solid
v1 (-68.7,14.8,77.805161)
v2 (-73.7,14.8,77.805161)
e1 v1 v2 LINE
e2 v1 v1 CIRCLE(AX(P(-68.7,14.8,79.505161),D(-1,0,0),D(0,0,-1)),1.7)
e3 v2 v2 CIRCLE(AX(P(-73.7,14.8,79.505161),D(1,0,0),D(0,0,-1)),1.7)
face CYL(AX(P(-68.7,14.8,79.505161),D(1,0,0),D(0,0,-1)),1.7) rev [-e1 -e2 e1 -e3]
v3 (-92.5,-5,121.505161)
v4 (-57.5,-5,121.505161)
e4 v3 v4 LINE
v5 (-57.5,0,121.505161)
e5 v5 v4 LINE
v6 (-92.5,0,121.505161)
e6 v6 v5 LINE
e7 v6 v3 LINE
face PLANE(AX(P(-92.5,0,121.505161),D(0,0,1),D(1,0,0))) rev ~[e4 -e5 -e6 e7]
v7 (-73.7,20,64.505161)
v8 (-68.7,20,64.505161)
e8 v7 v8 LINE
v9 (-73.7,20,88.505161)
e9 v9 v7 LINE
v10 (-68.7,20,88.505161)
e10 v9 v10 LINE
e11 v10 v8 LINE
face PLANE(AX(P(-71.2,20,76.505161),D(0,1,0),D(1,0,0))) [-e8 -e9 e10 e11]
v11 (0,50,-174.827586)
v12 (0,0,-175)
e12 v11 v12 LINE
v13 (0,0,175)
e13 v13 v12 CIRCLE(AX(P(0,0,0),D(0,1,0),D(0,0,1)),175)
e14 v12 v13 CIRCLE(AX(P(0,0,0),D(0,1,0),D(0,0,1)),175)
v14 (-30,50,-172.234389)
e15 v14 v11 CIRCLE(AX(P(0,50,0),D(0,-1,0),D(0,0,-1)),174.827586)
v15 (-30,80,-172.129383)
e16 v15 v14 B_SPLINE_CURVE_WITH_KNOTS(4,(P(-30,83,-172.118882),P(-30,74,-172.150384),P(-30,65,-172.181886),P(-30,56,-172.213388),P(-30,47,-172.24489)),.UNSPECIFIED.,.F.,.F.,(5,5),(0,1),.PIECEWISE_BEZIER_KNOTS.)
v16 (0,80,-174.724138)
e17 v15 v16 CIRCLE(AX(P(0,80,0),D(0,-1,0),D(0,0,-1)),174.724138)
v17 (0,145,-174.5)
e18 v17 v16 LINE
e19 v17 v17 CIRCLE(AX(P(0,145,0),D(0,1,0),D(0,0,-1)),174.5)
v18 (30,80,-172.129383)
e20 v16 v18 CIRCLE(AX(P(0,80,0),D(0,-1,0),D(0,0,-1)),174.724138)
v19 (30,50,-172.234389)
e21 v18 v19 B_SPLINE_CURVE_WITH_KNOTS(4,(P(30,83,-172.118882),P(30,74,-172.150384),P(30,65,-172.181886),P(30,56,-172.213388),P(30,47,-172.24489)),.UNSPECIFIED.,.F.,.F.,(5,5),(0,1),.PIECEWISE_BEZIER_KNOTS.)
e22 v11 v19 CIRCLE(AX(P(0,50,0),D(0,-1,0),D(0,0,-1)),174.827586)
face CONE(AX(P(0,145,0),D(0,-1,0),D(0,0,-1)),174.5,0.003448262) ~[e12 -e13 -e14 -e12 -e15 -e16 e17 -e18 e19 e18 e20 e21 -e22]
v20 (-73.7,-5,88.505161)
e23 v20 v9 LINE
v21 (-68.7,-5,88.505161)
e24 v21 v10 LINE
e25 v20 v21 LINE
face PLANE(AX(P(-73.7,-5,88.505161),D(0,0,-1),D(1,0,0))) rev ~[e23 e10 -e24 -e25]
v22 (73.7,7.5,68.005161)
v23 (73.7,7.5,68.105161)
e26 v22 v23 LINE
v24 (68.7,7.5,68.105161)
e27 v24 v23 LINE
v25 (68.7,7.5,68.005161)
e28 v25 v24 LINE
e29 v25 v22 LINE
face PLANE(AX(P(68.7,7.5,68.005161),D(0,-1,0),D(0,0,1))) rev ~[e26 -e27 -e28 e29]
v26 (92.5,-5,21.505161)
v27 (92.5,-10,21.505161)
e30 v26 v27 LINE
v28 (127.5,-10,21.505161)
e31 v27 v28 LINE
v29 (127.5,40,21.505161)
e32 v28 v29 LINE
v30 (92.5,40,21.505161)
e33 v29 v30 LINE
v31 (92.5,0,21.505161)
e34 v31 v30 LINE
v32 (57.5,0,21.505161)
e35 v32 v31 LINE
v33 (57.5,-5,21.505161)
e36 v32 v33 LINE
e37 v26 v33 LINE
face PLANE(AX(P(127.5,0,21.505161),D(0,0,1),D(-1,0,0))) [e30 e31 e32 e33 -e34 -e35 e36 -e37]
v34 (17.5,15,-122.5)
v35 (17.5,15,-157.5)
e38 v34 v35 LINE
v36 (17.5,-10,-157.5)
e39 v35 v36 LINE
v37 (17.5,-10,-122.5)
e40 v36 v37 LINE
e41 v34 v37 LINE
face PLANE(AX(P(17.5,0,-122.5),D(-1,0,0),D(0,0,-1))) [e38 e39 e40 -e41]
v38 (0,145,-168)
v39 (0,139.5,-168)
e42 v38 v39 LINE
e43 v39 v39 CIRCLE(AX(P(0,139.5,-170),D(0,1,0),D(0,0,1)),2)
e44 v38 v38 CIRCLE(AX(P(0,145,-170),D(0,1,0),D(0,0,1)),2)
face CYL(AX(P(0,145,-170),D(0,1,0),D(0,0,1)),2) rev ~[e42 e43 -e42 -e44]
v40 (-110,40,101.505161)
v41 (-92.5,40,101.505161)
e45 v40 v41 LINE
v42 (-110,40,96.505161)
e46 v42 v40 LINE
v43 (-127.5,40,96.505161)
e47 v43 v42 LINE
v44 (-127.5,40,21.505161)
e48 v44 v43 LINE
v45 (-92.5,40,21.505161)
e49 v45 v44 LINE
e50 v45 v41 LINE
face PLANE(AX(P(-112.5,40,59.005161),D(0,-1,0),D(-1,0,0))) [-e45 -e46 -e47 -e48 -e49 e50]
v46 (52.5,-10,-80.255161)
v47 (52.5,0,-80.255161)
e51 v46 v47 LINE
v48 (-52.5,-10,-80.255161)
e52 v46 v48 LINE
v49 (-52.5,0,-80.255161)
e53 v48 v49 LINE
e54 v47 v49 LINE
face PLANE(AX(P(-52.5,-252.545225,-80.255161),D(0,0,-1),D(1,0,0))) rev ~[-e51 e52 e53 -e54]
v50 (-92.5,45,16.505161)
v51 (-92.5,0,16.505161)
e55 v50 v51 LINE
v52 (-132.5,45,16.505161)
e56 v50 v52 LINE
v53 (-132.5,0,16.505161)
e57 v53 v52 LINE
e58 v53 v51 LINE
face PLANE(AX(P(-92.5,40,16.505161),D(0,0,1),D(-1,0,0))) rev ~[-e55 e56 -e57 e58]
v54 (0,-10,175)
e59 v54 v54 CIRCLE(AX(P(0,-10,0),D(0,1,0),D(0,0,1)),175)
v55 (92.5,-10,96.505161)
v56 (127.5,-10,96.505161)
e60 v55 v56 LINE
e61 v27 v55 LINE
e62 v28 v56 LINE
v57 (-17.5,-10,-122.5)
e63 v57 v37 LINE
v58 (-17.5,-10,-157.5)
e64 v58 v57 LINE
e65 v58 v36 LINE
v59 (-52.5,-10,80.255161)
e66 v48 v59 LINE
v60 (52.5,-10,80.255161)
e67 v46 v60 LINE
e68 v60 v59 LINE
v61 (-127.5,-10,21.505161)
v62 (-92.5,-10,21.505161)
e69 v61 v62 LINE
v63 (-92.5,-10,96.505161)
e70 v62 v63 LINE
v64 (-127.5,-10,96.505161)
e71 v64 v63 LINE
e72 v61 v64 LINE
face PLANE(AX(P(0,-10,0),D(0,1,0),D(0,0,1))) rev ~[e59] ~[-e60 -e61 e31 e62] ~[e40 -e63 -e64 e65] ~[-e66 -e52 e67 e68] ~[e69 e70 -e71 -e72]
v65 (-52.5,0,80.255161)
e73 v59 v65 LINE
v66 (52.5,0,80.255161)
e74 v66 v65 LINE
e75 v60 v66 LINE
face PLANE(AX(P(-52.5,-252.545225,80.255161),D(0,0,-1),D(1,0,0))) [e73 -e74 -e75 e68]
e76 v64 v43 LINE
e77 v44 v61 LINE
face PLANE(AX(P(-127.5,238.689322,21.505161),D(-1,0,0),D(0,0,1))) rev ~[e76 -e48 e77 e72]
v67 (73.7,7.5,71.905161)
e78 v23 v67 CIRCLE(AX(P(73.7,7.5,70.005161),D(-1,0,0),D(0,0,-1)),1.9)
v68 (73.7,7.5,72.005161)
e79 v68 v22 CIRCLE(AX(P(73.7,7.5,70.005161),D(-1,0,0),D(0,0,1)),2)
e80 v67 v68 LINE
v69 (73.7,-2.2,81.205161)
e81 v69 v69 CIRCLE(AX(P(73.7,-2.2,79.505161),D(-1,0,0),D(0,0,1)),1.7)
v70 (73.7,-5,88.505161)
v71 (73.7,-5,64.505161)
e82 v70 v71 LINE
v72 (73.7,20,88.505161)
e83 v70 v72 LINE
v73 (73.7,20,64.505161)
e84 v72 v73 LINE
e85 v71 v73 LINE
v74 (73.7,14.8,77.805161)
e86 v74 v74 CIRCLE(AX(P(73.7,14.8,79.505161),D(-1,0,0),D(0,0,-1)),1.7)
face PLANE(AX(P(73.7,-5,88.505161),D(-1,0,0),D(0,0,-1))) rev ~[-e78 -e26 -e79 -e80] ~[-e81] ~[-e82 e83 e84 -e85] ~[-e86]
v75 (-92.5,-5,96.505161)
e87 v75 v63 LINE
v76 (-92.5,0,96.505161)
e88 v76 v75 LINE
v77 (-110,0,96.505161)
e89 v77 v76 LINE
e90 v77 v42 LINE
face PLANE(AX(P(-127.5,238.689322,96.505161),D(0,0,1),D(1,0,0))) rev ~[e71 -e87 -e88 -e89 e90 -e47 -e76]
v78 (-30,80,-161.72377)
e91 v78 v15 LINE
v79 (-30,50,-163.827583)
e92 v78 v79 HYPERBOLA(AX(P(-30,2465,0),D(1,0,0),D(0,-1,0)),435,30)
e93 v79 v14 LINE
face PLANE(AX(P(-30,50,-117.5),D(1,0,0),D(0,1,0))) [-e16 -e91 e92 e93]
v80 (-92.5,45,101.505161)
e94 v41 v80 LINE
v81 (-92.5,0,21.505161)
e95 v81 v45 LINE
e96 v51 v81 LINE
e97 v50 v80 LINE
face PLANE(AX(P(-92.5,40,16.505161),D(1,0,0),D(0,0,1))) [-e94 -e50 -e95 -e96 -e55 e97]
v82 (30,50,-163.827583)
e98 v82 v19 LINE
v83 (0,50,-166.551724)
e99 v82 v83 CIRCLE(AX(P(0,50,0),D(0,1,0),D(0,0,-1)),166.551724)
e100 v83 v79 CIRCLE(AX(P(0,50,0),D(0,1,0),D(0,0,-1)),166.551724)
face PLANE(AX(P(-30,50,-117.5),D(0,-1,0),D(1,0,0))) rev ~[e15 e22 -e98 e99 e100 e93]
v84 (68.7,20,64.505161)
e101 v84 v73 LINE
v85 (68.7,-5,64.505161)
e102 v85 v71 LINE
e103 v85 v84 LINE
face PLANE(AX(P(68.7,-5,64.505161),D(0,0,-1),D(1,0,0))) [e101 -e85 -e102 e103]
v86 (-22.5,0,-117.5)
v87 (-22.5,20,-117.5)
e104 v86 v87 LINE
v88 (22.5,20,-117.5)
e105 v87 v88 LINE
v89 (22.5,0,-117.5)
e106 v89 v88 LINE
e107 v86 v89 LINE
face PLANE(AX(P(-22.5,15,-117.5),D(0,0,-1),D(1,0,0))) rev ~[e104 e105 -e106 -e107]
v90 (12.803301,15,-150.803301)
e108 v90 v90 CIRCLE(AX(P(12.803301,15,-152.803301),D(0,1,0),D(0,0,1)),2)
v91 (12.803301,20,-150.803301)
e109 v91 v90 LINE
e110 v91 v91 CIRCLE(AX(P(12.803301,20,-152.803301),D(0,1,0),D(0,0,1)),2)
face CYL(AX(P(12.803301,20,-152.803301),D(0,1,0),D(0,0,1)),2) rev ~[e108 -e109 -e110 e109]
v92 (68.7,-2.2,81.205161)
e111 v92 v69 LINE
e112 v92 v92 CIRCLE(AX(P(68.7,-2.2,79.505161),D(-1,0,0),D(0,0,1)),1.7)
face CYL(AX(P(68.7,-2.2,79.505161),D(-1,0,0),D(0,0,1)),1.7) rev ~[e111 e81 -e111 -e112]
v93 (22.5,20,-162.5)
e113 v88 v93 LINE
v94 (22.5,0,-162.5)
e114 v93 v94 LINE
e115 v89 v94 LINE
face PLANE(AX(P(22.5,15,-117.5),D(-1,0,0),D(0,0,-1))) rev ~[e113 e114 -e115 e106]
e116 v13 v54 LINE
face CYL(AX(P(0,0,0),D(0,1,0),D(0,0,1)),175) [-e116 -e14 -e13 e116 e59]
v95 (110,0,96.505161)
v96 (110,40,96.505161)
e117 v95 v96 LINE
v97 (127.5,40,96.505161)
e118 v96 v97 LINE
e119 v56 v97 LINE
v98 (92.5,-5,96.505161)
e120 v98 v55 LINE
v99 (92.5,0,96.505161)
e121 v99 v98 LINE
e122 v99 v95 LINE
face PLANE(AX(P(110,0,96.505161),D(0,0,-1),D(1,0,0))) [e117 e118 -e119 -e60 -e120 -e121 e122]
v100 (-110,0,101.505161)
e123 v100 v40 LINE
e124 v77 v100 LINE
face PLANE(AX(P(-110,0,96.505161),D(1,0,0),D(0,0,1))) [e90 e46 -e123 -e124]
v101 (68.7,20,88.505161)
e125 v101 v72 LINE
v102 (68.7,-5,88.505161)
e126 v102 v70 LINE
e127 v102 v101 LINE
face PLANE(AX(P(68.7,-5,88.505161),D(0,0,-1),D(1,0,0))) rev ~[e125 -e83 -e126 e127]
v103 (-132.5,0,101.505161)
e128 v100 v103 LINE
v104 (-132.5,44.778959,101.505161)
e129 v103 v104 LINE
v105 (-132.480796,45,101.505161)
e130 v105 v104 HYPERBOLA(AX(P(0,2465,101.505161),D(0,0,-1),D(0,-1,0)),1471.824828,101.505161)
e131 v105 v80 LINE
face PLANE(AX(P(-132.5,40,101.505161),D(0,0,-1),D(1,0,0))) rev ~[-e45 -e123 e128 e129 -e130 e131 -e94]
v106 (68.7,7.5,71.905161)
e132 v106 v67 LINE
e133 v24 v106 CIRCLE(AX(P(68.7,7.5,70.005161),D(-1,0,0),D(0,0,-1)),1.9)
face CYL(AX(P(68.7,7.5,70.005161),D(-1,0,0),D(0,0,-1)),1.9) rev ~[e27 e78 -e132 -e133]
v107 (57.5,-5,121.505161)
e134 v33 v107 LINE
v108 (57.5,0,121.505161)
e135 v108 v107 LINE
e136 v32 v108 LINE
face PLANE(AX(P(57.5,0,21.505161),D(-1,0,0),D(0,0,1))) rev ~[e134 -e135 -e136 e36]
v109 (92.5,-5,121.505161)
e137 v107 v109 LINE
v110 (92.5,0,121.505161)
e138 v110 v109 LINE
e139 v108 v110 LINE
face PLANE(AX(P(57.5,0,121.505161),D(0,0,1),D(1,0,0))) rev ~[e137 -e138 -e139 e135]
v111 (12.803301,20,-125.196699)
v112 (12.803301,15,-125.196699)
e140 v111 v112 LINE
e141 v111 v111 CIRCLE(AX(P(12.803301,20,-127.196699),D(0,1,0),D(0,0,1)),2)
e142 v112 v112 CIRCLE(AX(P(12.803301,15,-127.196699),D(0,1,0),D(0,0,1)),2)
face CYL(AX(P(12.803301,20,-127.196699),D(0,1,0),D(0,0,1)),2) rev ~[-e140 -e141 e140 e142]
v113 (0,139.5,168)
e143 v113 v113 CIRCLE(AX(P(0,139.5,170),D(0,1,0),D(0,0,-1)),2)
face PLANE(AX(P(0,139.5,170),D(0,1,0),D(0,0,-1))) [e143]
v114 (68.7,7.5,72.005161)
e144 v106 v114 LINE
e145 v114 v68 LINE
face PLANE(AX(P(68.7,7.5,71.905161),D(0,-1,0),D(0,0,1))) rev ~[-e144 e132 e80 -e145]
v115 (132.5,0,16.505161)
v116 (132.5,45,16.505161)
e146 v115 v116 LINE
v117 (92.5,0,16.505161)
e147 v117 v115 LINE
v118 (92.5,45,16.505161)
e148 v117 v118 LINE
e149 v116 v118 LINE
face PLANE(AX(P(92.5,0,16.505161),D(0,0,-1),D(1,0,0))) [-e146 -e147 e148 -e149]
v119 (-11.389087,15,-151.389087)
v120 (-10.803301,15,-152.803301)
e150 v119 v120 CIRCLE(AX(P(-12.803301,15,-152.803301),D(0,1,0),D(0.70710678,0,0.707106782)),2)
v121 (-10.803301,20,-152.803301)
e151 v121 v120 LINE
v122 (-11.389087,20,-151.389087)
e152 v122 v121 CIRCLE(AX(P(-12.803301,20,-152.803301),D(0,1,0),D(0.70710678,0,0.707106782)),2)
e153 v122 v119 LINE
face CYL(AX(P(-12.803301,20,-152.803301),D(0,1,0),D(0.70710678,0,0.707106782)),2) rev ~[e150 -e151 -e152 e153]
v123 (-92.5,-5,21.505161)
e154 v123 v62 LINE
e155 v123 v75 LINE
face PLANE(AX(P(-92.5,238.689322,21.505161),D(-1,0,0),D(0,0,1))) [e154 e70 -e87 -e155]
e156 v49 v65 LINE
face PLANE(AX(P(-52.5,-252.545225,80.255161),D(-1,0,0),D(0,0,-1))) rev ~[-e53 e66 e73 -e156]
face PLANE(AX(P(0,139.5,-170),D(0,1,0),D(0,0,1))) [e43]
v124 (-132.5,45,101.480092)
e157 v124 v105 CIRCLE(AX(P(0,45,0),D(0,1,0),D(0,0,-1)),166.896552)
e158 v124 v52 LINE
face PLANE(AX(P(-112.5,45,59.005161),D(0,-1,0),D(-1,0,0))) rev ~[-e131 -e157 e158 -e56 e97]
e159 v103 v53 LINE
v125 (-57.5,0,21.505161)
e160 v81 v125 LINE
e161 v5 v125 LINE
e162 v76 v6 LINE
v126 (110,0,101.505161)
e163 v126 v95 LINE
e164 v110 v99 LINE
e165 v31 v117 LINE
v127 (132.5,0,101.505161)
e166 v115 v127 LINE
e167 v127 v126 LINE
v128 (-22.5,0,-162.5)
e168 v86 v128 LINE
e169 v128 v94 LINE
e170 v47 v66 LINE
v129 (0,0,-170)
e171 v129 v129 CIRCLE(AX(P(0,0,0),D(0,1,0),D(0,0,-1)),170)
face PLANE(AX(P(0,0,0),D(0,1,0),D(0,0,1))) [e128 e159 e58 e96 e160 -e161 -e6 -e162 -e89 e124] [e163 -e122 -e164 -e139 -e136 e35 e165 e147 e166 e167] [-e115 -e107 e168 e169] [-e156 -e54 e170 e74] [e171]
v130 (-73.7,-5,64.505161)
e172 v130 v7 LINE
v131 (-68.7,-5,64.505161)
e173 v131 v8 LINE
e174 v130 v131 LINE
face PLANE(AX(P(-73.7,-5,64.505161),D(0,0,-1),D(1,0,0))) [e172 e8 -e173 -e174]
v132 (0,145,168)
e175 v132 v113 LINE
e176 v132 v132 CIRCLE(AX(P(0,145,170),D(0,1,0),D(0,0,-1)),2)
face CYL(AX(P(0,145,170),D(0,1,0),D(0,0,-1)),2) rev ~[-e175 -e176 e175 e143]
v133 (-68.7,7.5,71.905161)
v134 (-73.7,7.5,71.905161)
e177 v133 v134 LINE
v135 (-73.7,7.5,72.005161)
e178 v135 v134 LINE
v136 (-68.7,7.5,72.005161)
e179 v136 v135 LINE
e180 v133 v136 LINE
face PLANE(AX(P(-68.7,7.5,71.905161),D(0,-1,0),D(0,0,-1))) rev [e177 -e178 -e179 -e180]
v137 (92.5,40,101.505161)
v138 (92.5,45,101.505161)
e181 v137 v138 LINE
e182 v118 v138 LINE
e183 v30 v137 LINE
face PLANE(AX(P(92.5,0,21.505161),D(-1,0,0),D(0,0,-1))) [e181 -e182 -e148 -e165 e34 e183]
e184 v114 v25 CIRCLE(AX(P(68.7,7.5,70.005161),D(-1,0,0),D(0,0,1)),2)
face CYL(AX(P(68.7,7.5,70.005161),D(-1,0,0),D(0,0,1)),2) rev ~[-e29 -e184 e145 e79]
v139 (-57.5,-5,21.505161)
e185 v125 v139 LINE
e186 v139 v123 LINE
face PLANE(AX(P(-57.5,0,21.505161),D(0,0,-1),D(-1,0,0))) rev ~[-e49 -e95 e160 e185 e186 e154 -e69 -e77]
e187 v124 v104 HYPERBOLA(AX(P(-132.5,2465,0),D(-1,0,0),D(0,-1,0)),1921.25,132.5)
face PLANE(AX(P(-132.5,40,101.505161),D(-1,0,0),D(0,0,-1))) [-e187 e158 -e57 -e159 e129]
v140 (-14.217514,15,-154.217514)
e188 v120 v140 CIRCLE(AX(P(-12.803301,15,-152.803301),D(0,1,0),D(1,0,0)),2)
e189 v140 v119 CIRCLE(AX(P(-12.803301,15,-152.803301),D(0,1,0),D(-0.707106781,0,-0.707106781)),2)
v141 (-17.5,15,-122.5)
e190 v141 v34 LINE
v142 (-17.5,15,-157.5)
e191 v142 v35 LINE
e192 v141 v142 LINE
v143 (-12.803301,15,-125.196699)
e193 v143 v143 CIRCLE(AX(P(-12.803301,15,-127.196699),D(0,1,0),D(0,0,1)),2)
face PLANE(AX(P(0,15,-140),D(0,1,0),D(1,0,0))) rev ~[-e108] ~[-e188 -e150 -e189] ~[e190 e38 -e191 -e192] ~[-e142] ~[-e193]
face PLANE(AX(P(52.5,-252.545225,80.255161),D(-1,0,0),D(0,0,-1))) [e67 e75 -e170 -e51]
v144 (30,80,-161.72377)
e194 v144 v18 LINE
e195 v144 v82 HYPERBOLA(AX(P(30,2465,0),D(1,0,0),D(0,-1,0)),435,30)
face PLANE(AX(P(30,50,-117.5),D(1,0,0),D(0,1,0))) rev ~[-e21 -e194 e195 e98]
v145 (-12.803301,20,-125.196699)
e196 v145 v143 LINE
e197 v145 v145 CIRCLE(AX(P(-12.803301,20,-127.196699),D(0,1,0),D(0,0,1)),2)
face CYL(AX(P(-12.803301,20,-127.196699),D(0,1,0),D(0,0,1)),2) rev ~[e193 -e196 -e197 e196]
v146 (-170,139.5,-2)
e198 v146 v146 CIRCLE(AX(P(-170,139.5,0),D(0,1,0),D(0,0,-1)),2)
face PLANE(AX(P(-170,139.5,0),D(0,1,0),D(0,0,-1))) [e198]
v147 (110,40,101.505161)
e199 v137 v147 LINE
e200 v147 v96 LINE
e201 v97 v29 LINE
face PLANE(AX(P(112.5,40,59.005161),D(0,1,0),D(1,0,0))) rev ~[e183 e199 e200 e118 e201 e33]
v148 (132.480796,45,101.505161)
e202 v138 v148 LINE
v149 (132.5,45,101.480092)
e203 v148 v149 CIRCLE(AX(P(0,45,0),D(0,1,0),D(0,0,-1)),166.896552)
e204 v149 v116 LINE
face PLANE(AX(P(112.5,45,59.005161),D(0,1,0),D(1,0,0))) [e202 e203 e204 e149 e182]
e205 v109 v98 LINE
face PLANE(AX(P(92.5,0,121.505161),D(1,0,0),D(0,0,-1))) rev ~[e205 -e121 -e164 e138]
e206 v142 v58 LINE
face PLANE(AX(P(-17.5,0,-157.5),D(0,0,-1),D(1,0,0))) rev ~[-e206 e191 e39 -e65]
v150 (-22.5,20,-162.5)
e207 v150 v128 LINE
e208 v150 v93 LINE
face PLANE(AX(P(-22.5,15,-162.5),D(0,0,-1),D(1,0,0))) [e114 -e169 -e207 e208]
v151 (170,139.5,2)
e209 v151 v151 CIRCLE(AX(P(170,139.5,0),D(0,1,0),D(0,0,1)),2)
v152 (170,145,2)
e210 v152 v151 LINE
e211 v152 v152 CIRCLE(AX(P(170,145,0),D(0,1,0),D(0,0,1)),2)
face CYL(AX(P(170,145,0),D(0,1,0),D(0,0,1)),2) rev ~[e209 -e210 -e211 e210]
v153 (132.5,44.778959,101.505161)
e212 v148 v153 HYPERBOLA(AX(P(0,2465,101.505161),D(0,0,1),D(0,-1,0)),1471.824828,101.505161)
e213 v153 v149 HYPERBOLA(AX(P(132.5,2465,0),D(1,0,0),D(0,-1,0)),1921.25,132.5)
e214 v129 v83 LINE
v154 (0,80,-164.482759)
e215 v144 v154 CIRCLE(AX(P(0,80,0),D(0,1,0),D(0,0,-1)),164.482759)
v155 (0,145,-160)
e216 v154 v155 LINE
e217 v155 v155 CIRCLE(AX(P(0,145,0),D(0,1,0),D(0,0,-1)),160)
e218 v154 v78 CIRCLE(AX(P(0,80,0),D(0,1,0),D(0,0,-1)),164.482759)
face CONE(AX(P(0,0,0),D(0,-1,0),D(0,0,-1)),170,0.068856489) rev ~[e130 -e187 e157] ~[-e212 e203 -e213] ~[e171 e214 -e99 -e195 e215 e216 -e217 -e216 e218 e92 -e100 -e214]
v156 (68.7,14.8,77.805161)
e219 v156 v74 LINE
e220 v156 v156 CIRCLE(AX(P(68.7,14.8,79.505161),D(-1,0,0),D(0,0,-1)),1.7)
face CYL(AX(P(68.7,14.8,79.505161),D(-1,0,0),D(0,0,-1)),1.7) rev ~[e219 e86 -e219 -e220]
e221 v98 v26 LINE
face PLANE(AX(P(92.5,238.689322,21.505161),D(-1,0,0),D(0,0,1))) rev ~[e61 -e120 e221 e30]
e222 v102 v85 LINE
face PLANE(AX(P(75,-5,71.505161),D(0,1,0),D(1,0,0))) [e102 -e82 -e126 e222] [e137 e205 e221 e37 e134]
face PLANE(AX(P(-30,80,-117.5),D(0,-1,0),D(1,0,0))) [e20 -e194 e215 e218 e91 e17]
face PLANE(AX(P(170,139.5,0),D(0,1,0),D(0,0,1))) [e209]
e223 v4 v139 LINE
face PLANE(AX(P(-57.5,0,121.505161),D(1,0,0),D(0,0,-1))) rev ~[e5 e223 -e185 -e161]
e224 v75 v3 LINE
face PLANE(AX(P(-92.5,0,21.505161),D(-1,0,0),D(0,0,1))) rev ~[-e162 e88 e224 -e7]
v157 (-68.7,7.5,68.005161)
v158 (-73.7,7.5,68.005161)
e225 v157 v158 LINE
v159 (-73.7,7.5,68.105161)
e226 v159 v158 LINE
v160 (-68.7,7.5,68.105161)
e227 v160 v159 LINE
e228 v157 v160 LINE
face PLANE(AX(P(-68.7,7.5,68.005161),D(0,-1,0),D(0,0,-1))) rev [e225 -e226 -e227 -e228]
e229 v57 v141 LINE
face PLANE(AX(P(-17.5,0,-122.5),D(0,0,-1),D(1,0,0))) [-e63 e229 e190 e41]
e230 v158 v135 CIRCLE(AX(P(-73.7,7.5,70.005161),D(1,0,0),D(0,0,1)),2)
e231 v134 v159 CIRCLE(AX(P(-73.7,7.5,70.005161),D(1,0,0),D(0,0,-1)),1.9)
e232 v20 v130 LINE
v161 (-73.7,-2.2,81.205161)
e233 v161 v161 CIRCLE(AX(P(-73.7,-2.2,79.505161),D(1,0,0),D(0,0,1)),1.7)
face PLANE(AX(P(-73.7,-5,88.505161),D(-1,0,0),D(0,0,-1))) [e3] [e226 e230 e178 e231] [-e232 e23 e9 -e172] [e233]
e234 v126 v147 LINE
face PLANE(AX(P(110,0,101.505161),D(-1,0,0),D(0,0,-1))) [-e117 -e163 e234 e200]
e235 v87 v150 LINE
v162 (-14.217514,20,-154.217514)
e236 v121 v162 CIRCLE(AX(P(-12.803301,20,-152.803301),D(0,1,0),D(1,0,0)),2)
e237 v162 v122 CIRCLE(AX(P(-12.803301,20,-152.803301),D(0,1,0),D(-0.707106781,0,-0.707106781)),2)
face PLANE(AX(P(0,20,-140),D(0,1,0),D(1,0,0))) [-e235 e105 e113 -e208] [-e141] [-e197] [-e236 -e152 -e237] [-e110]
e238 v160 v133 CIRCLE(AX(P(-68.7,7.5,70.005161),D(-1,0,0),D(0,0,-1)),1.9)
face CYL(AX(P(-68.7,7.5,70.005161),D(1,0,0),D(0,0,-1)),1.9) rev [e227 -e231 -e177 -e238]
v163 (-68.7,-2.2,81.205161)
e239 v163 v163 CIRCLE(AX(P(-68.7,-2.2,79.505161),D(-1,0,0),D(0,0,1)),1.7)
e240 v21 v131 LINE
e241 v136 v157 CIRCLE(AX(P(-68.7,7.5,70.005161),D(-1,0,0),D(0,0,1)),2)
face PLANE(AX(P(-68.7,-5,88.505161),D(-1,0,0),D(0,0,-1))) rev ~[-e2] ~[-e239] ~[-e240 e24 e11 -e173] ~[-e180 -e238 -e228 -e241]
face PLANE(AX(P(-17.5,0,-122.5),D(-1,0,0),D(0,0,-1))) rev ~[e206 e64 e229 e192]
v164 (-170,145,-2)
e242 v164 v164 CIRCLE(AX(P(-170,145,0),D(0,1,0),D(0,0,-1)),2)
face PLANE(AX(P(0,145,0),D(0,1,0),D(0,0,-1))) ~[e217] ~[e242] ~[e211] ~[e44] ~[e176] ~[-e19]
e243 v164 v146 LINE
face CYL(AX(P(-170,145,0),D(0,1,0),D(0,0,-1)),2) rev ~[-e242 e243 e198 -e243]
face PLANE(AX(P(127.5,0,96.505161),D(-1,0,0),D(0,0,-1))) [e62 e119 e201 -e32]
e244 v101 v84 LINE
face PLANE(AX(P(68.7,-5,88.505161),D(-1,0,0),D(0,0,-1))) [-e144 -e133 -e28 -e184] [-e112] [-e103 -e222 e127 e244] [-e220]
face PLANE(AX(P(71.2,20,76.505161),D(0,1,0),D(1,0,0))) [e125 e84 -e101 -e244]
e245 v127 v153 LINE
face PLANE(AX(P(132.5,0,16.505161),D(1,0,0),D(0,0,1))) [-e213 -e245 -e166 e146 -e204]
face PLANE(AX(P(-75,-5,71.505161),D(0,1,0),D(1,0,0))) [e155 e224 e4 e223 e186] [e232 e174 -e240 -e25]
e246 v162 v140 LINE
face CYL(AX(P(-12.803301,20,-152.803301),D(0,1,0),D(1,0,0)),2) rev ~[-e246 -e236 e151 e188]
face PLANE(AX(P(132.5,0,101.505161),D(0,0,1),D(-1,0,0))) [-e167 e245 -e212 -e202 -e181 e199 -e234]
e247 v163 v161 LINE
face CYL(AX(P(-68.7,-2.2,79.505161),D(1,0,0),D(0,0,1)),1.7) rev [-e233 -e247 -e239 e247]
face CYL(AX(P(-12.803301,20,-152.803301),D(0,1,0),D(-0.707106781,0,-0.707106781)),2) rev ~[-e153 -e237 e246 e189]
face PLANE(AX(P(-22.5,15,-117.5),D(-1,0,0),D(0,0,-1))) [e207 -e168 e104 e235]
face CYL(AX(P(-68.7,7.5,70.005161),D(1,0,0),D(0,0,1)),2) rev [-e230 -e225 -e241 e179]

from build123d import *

# Parameters (mm, degrees)
SKETCH1_R                = 175
BOSS_EXTRUDE1_DEPTH      = 10
CUT_EXTRUDE1_DEPTH       = 248.68932153
CUT_EXTRUDE1_DEPTH_BACK  = 248.68932153
SKETCH3_W                = 35
SKETCH3_H                = 75
SKETCH3_H_2              = 35
SKETCH4_W                = 35
SKETCH4_H                = 75
CUT_EXTRUDE2_DEPTH       = 5
SKETCH5_W                = 45
SKETCH5_H                = 45
SKETCH5_W_2              = 35
SKETCH5_H_2              = 35
BOSS_EXTRUDE3_DEPTH      = 15
BOSS_EXTRUDE4_DEPTH      = 40
BOSS_EXTRUDE6_DEPTH      = 5
SKETCH9_W                = 45
SKETCH9_H                = 45
BOSS_EXTRUDE7_DEPTH      = 5
CUT_EXTRUDE14_DEPTH      = 252.545224562
CUT_EXTRUDE14_DEPTH_BACK = 252.545224562
SKETCH36_W               = 105
SKETCH36_H               = 160.510321068
SKETCH45_W               = 5
SKETCH45_H               = 24
BOSS_EXTRUDE14_DEPTH     = 25
SKETCH46_R               = 1.7
CUT_EXTRUDE18_DEPTH      = 25
SKETCH49_R               = 2
CUT_EXTRUDE20_DEPTH      = 250.299017246
SKETCH57_R               = 2
CUT_EXTRUDE24_DEPTH      = 5.5
SKETCH58_W               = 60
SKETCH58_H               = 30
CUT_EXTRUDE25_DEPTH      = 371.41362016


with BuildPart() as part:
    # Sketch1 → Boss-Extrude1 (new body)
    with BuildSketch(Plane(origin=(0, 0, 0), x_dir=(1, 0, 0), z_dir=(0, 1, 0))):
        with Locations(Location((0, 0, 0), (0, 0, 270))):
            Circle(SKETCH1_R)
    extrude(amount=-BOSS_EXTRUDE1_DEPTH)

    # Sketch3 → Cut-Extrude1 (cut, two sides: drawn at the far end of the back side and taken through both)
    with BuildSketch(Plane.XZ.offset(10).offset(-CUT_EXTRUDE1_DEPTH_BACK)):
        with Locations((-110, 59.005160534)):
            Rectangle(SKETCH3_W, SKETCH3_H)
        with Locations((110, 59.005160534)):
            Rectangle(SKETCH3_W, SKETCH3_H)
        with Locations((0, -140)):
            Rectangle(SKETCH3_W, SKETCH3_H_2)
    extrude(amount=CUT_EXTRUDE1_DEPTH + CUT_EXTRUDE1_DEPTH_BACK, mode=Mode.SUBTRACT)

    # Sketch4 → Cut-Extrude2 (cut)
    with BuildSketch(Plane(origin=(0, 0, 0), x_dir=(1, 0, 0), z_dir=(0, 1, 0))):
        Polygon((57.5, -21.505160534), (57.5, -96.505160534), (57.5, -121.505160534), (92.5, -121.505160534), (92.5, -96.505160534), (92.5, -21.505160534), align=None)
        with Locations((110, -59.005160534)):
            Rectangle(SKETCH4_W, SKETCH4_H)
        Polygon((-57.5, -21.505160534), (-92.5, -21.505160534), (-92.5, -96.505160534), (-92.5, -121.505160534), (-57.5, -121.505160534), (-57.5, -96.505160534), align=None)
    extrude(amount=-CUT_EXTRUDE2_DEPTH, mode=Mode.SUBTRACT)

    # Sketch5 → Boss-Extrude3 (add)
    with BuildSketch(Plane(origin=(0, 0, 0), x_dir=(1, 0, 0), z_dir=(0, 1, 0))):
        with Locations((0, 140)):
            Rectangle(SKETCH5_W, SKETCH5_H)
        with Locations((0, 140)):
            Rectangle(SKETCH5_W_2, SKETCH5_H_2, mode=Mode.SUBTRACT)
    extrude(amount=BOSS_EXTRUDE3_DEPTH)

    # Sketch6 → Boss-Extrude4 (add)
    with BuildSketch(Plane(origin=(0, 0, 0), x_dir=(1, 0, 0), z_dir=(0, 1, 0))):
        Polygon((127.5, -21.505160534), (92.5, -21.505160534), (92.5, -16.505160534), (132.5, -16.505160534), (132.5, -101.505160534), (110, -101.505160534), (110, -96.505160534), (127.5, -96.505160534), align=None)
        Polygon((-127.5, -21.505160534), (-127.5, -96.505160534), (-110, -96.505160534), (-110, -101.505160534), (-132.5, -101.505160534), (-132.5, -16.505160534), (-92.5, -16.505160534), (-92.5, -21.505160534), align=None)
    extrude(amount=BOSS_EXTRUDE4_DEPTH)

    # Sketch8 → Boss-Extrude6 (add)
    with BuildSketch(Plane(origin=(0, 40, 0), x_dir=(1, 0, 0), z_dir=(0, 1, 0))):
        Polygon((-97.5, -16.505160534), (-92.5, -16.505160534), (-92.5, -101.505160534), (-110, -101.505160534), (-132.5, -101.505160534), (-132.5, -16.505160534), align=None)
        Polygon((132.5, -16.505160534), (97.5, -16.505160534), (92.5, -16.505160534), (92.5, -101.505160534), (110, -101.505160534), (132.5, -101.505160534), align=None)
    extrude(amount=BOSS_EXTRUDE6_DEPTH)

    # Sketch9 → Boss-Extrude7 (add)
    with BuildSketch(Plane(origin=(0, 15, 0), x_dir=(1, 0, 0), z_dir=(0, 1, 0))):
        with Locations((0, 140)):
            Rectangle(SKETCH9_W, SKETCH9_H)
    extrude(amount=BOSS_EXTRUDE7_DEPTH)

    # Sketch36 → Cut-Extrude14 (cut, two sides: drawn at the far end of the back side and taken through both)
    with BuildSketch(Plane(origin=(0, 0, 0), x_dir=(1, 0, 0), z_dir=(0, 1, 0)).offset(-CUT_EXTRUDE14_DEPTH_BACK)):
        Rectangle(SKETCH36_W, SKETCH36_H)
    extrude(amount=CUT_EXTRUDE14_DEPTH + CUT_EXTRUDE14_DEPTH_BACK, mode=Mode.SUBTRACT)

    # Sketch45 → Boss-Extrude14 (add)
    with BuildSketch(Plane(origin=(0, -5, 0), x_dir=(1, 0, 0), z_dir=(0, 1, 0))):
        with Locations((71.2, -76.505160534)):
            Rectangle(SKETCH45_W, SKETCH45_H)
        with Locations((-71.2, -76.505160534)):
            Rectangle(SKETCH45_W, SKETCH45_H)
    extrude(amount=BOSS_EXTRUDE14_DEPTH)

    # Sketch46 → Cut-Extrude18 (cut)
    with BuildSketch(Plane.ZY.offset(-68.7)):
        with Locations((79.505160534, -2.2)):
            Circle(SKETCH46_R)
        with Locations(Location((79.505160534, 14.8, 0), (0, 0, 180))):
            Circle(SKETCH46_R)
        with BuildLine():
            Line((68.005160534, 7.5), (68.105160534, 7.5))
            ThreePointArc((68.105160534, 7.5), (70.005160534, 5.6), (71.905160534, 7.5))
            Line((71.905160534, 7.5), (72.005160534, 7.5))
            ThreePointArc((72.005160534, 7.5), (70.005160534, 9.5), (68.005160534, 7.5))
        make_face()
    cut_extrude18 = extrude(amount=-CUT_EXTRUDE18_DEPTH, mode=Mode.SUBTRACT)

    # Mirror1: Cut-Extrude18 across plane
    add(cut_extrude18.mirror(Plane.ZY), mode=Mode.SUBTRACT)

    # Sketch49 → Cut-Extrude20 (cut, through all)
    with BuildSketch(Plane(origin=(0, 20, 0), x_dir=(1, 0, 0), z_dir=(0, 1, 0))):
        with BuildLine():
            ThreePointArc((-10.803300859, 152.803300859), (-12.037933994, 154.651059924), (-14.217514421, 154.217514421))
            Line((-14.217514421, 154.217514421), (-12.803300859, 152.803300859))
            Line((-12.803300859, 152.803300859), (-11.389087297, 151.389087297))
            ThreePointArc((-11.389087297, 151.389087297), (-10.955541794, 152.037933994), (-10.803300859, 152.803300859))
        make_face()
        with BuildLine():
            Line((-12.803300859, 152.803300859), (-14.217514421, 154.217514421))
            ThreePointArc((-14.217514421, 154.217514421), (-14.217514421, 151.389087297), (-11.389087297, 151.389087297))
            Line((-11.389087297, 151.389087297), (-12.803300859, 152.803300859))
        make_face()
        with Locations(Location((12.803300859, 152.803300859, 0), (0, 0, 270))):
            Circle(SKETCH49_R)
        with Locations(Location((-12.803300859, 127.196699141, 0), (0, 0, 270))):
            Circle(SKETCH49_R)
        with Locations(Location((12.803300859, 127.196699141, 0), (0, 0, 270))):
            Circle(SKETCH49_R)
    extrude(amount=-CUT_EXTRUDE20_DEPTH, mode=Mode.SUBTRACT)

    # Sketch51 → Revolve1 (revolve)
    with BuildSketch(Plane.XY, mode=Mode.PRIVATE) as revolve1_sk:
        Polygon((-160, 145), (-174.5, 145), (-175, 0), (-170, 0), align=None)
    revolve(revolve1_sk.sketch.rotate(Axis((0, 0, 0), (0, 1, 0)), 270), axis=Axis((0, 0, 0), (0, 1, 0)))

    # Sketch57 → Cut-Extrude24 (cut)
    with BuildSketch(Plane(origin=(0, 145, 0), x_dir=(1, 0, 0), z_dir=(0, 1, 0))):
        with Locations(Location((170, 0, 0), (0, 0, 270))):
            Circle(SKETCH57_R)
        with Locations(Location((-170, 0, 0), (0, 0, 90))):
            Circle(SKETCH57_R)
        with Locations(Location((0, 170, 0), (0, 0, 270))):
            Circle(SKETCH57_R)
        with Locations(Location((0, -170, 0), (0, 0, 90))):
            Circle(SKETCH57_R)
    extrude(amount=-CUT_EXTRUDE24_DEPTH, mode=Mode.SUBTRACT)

    # Sketch58 → Cut-Extrude25 (cut, through all)
    with BuildSketch(Plane.XY.offset(-117.5)):
        with Locations((0, 65)):
            Rectangle(SKETCH58_W, SKETCH58_H)
    extrude(amount=-CUT_EXTRUDE25_DEPTH, mode=Mode.SUBTRACT)


solid = part.part
